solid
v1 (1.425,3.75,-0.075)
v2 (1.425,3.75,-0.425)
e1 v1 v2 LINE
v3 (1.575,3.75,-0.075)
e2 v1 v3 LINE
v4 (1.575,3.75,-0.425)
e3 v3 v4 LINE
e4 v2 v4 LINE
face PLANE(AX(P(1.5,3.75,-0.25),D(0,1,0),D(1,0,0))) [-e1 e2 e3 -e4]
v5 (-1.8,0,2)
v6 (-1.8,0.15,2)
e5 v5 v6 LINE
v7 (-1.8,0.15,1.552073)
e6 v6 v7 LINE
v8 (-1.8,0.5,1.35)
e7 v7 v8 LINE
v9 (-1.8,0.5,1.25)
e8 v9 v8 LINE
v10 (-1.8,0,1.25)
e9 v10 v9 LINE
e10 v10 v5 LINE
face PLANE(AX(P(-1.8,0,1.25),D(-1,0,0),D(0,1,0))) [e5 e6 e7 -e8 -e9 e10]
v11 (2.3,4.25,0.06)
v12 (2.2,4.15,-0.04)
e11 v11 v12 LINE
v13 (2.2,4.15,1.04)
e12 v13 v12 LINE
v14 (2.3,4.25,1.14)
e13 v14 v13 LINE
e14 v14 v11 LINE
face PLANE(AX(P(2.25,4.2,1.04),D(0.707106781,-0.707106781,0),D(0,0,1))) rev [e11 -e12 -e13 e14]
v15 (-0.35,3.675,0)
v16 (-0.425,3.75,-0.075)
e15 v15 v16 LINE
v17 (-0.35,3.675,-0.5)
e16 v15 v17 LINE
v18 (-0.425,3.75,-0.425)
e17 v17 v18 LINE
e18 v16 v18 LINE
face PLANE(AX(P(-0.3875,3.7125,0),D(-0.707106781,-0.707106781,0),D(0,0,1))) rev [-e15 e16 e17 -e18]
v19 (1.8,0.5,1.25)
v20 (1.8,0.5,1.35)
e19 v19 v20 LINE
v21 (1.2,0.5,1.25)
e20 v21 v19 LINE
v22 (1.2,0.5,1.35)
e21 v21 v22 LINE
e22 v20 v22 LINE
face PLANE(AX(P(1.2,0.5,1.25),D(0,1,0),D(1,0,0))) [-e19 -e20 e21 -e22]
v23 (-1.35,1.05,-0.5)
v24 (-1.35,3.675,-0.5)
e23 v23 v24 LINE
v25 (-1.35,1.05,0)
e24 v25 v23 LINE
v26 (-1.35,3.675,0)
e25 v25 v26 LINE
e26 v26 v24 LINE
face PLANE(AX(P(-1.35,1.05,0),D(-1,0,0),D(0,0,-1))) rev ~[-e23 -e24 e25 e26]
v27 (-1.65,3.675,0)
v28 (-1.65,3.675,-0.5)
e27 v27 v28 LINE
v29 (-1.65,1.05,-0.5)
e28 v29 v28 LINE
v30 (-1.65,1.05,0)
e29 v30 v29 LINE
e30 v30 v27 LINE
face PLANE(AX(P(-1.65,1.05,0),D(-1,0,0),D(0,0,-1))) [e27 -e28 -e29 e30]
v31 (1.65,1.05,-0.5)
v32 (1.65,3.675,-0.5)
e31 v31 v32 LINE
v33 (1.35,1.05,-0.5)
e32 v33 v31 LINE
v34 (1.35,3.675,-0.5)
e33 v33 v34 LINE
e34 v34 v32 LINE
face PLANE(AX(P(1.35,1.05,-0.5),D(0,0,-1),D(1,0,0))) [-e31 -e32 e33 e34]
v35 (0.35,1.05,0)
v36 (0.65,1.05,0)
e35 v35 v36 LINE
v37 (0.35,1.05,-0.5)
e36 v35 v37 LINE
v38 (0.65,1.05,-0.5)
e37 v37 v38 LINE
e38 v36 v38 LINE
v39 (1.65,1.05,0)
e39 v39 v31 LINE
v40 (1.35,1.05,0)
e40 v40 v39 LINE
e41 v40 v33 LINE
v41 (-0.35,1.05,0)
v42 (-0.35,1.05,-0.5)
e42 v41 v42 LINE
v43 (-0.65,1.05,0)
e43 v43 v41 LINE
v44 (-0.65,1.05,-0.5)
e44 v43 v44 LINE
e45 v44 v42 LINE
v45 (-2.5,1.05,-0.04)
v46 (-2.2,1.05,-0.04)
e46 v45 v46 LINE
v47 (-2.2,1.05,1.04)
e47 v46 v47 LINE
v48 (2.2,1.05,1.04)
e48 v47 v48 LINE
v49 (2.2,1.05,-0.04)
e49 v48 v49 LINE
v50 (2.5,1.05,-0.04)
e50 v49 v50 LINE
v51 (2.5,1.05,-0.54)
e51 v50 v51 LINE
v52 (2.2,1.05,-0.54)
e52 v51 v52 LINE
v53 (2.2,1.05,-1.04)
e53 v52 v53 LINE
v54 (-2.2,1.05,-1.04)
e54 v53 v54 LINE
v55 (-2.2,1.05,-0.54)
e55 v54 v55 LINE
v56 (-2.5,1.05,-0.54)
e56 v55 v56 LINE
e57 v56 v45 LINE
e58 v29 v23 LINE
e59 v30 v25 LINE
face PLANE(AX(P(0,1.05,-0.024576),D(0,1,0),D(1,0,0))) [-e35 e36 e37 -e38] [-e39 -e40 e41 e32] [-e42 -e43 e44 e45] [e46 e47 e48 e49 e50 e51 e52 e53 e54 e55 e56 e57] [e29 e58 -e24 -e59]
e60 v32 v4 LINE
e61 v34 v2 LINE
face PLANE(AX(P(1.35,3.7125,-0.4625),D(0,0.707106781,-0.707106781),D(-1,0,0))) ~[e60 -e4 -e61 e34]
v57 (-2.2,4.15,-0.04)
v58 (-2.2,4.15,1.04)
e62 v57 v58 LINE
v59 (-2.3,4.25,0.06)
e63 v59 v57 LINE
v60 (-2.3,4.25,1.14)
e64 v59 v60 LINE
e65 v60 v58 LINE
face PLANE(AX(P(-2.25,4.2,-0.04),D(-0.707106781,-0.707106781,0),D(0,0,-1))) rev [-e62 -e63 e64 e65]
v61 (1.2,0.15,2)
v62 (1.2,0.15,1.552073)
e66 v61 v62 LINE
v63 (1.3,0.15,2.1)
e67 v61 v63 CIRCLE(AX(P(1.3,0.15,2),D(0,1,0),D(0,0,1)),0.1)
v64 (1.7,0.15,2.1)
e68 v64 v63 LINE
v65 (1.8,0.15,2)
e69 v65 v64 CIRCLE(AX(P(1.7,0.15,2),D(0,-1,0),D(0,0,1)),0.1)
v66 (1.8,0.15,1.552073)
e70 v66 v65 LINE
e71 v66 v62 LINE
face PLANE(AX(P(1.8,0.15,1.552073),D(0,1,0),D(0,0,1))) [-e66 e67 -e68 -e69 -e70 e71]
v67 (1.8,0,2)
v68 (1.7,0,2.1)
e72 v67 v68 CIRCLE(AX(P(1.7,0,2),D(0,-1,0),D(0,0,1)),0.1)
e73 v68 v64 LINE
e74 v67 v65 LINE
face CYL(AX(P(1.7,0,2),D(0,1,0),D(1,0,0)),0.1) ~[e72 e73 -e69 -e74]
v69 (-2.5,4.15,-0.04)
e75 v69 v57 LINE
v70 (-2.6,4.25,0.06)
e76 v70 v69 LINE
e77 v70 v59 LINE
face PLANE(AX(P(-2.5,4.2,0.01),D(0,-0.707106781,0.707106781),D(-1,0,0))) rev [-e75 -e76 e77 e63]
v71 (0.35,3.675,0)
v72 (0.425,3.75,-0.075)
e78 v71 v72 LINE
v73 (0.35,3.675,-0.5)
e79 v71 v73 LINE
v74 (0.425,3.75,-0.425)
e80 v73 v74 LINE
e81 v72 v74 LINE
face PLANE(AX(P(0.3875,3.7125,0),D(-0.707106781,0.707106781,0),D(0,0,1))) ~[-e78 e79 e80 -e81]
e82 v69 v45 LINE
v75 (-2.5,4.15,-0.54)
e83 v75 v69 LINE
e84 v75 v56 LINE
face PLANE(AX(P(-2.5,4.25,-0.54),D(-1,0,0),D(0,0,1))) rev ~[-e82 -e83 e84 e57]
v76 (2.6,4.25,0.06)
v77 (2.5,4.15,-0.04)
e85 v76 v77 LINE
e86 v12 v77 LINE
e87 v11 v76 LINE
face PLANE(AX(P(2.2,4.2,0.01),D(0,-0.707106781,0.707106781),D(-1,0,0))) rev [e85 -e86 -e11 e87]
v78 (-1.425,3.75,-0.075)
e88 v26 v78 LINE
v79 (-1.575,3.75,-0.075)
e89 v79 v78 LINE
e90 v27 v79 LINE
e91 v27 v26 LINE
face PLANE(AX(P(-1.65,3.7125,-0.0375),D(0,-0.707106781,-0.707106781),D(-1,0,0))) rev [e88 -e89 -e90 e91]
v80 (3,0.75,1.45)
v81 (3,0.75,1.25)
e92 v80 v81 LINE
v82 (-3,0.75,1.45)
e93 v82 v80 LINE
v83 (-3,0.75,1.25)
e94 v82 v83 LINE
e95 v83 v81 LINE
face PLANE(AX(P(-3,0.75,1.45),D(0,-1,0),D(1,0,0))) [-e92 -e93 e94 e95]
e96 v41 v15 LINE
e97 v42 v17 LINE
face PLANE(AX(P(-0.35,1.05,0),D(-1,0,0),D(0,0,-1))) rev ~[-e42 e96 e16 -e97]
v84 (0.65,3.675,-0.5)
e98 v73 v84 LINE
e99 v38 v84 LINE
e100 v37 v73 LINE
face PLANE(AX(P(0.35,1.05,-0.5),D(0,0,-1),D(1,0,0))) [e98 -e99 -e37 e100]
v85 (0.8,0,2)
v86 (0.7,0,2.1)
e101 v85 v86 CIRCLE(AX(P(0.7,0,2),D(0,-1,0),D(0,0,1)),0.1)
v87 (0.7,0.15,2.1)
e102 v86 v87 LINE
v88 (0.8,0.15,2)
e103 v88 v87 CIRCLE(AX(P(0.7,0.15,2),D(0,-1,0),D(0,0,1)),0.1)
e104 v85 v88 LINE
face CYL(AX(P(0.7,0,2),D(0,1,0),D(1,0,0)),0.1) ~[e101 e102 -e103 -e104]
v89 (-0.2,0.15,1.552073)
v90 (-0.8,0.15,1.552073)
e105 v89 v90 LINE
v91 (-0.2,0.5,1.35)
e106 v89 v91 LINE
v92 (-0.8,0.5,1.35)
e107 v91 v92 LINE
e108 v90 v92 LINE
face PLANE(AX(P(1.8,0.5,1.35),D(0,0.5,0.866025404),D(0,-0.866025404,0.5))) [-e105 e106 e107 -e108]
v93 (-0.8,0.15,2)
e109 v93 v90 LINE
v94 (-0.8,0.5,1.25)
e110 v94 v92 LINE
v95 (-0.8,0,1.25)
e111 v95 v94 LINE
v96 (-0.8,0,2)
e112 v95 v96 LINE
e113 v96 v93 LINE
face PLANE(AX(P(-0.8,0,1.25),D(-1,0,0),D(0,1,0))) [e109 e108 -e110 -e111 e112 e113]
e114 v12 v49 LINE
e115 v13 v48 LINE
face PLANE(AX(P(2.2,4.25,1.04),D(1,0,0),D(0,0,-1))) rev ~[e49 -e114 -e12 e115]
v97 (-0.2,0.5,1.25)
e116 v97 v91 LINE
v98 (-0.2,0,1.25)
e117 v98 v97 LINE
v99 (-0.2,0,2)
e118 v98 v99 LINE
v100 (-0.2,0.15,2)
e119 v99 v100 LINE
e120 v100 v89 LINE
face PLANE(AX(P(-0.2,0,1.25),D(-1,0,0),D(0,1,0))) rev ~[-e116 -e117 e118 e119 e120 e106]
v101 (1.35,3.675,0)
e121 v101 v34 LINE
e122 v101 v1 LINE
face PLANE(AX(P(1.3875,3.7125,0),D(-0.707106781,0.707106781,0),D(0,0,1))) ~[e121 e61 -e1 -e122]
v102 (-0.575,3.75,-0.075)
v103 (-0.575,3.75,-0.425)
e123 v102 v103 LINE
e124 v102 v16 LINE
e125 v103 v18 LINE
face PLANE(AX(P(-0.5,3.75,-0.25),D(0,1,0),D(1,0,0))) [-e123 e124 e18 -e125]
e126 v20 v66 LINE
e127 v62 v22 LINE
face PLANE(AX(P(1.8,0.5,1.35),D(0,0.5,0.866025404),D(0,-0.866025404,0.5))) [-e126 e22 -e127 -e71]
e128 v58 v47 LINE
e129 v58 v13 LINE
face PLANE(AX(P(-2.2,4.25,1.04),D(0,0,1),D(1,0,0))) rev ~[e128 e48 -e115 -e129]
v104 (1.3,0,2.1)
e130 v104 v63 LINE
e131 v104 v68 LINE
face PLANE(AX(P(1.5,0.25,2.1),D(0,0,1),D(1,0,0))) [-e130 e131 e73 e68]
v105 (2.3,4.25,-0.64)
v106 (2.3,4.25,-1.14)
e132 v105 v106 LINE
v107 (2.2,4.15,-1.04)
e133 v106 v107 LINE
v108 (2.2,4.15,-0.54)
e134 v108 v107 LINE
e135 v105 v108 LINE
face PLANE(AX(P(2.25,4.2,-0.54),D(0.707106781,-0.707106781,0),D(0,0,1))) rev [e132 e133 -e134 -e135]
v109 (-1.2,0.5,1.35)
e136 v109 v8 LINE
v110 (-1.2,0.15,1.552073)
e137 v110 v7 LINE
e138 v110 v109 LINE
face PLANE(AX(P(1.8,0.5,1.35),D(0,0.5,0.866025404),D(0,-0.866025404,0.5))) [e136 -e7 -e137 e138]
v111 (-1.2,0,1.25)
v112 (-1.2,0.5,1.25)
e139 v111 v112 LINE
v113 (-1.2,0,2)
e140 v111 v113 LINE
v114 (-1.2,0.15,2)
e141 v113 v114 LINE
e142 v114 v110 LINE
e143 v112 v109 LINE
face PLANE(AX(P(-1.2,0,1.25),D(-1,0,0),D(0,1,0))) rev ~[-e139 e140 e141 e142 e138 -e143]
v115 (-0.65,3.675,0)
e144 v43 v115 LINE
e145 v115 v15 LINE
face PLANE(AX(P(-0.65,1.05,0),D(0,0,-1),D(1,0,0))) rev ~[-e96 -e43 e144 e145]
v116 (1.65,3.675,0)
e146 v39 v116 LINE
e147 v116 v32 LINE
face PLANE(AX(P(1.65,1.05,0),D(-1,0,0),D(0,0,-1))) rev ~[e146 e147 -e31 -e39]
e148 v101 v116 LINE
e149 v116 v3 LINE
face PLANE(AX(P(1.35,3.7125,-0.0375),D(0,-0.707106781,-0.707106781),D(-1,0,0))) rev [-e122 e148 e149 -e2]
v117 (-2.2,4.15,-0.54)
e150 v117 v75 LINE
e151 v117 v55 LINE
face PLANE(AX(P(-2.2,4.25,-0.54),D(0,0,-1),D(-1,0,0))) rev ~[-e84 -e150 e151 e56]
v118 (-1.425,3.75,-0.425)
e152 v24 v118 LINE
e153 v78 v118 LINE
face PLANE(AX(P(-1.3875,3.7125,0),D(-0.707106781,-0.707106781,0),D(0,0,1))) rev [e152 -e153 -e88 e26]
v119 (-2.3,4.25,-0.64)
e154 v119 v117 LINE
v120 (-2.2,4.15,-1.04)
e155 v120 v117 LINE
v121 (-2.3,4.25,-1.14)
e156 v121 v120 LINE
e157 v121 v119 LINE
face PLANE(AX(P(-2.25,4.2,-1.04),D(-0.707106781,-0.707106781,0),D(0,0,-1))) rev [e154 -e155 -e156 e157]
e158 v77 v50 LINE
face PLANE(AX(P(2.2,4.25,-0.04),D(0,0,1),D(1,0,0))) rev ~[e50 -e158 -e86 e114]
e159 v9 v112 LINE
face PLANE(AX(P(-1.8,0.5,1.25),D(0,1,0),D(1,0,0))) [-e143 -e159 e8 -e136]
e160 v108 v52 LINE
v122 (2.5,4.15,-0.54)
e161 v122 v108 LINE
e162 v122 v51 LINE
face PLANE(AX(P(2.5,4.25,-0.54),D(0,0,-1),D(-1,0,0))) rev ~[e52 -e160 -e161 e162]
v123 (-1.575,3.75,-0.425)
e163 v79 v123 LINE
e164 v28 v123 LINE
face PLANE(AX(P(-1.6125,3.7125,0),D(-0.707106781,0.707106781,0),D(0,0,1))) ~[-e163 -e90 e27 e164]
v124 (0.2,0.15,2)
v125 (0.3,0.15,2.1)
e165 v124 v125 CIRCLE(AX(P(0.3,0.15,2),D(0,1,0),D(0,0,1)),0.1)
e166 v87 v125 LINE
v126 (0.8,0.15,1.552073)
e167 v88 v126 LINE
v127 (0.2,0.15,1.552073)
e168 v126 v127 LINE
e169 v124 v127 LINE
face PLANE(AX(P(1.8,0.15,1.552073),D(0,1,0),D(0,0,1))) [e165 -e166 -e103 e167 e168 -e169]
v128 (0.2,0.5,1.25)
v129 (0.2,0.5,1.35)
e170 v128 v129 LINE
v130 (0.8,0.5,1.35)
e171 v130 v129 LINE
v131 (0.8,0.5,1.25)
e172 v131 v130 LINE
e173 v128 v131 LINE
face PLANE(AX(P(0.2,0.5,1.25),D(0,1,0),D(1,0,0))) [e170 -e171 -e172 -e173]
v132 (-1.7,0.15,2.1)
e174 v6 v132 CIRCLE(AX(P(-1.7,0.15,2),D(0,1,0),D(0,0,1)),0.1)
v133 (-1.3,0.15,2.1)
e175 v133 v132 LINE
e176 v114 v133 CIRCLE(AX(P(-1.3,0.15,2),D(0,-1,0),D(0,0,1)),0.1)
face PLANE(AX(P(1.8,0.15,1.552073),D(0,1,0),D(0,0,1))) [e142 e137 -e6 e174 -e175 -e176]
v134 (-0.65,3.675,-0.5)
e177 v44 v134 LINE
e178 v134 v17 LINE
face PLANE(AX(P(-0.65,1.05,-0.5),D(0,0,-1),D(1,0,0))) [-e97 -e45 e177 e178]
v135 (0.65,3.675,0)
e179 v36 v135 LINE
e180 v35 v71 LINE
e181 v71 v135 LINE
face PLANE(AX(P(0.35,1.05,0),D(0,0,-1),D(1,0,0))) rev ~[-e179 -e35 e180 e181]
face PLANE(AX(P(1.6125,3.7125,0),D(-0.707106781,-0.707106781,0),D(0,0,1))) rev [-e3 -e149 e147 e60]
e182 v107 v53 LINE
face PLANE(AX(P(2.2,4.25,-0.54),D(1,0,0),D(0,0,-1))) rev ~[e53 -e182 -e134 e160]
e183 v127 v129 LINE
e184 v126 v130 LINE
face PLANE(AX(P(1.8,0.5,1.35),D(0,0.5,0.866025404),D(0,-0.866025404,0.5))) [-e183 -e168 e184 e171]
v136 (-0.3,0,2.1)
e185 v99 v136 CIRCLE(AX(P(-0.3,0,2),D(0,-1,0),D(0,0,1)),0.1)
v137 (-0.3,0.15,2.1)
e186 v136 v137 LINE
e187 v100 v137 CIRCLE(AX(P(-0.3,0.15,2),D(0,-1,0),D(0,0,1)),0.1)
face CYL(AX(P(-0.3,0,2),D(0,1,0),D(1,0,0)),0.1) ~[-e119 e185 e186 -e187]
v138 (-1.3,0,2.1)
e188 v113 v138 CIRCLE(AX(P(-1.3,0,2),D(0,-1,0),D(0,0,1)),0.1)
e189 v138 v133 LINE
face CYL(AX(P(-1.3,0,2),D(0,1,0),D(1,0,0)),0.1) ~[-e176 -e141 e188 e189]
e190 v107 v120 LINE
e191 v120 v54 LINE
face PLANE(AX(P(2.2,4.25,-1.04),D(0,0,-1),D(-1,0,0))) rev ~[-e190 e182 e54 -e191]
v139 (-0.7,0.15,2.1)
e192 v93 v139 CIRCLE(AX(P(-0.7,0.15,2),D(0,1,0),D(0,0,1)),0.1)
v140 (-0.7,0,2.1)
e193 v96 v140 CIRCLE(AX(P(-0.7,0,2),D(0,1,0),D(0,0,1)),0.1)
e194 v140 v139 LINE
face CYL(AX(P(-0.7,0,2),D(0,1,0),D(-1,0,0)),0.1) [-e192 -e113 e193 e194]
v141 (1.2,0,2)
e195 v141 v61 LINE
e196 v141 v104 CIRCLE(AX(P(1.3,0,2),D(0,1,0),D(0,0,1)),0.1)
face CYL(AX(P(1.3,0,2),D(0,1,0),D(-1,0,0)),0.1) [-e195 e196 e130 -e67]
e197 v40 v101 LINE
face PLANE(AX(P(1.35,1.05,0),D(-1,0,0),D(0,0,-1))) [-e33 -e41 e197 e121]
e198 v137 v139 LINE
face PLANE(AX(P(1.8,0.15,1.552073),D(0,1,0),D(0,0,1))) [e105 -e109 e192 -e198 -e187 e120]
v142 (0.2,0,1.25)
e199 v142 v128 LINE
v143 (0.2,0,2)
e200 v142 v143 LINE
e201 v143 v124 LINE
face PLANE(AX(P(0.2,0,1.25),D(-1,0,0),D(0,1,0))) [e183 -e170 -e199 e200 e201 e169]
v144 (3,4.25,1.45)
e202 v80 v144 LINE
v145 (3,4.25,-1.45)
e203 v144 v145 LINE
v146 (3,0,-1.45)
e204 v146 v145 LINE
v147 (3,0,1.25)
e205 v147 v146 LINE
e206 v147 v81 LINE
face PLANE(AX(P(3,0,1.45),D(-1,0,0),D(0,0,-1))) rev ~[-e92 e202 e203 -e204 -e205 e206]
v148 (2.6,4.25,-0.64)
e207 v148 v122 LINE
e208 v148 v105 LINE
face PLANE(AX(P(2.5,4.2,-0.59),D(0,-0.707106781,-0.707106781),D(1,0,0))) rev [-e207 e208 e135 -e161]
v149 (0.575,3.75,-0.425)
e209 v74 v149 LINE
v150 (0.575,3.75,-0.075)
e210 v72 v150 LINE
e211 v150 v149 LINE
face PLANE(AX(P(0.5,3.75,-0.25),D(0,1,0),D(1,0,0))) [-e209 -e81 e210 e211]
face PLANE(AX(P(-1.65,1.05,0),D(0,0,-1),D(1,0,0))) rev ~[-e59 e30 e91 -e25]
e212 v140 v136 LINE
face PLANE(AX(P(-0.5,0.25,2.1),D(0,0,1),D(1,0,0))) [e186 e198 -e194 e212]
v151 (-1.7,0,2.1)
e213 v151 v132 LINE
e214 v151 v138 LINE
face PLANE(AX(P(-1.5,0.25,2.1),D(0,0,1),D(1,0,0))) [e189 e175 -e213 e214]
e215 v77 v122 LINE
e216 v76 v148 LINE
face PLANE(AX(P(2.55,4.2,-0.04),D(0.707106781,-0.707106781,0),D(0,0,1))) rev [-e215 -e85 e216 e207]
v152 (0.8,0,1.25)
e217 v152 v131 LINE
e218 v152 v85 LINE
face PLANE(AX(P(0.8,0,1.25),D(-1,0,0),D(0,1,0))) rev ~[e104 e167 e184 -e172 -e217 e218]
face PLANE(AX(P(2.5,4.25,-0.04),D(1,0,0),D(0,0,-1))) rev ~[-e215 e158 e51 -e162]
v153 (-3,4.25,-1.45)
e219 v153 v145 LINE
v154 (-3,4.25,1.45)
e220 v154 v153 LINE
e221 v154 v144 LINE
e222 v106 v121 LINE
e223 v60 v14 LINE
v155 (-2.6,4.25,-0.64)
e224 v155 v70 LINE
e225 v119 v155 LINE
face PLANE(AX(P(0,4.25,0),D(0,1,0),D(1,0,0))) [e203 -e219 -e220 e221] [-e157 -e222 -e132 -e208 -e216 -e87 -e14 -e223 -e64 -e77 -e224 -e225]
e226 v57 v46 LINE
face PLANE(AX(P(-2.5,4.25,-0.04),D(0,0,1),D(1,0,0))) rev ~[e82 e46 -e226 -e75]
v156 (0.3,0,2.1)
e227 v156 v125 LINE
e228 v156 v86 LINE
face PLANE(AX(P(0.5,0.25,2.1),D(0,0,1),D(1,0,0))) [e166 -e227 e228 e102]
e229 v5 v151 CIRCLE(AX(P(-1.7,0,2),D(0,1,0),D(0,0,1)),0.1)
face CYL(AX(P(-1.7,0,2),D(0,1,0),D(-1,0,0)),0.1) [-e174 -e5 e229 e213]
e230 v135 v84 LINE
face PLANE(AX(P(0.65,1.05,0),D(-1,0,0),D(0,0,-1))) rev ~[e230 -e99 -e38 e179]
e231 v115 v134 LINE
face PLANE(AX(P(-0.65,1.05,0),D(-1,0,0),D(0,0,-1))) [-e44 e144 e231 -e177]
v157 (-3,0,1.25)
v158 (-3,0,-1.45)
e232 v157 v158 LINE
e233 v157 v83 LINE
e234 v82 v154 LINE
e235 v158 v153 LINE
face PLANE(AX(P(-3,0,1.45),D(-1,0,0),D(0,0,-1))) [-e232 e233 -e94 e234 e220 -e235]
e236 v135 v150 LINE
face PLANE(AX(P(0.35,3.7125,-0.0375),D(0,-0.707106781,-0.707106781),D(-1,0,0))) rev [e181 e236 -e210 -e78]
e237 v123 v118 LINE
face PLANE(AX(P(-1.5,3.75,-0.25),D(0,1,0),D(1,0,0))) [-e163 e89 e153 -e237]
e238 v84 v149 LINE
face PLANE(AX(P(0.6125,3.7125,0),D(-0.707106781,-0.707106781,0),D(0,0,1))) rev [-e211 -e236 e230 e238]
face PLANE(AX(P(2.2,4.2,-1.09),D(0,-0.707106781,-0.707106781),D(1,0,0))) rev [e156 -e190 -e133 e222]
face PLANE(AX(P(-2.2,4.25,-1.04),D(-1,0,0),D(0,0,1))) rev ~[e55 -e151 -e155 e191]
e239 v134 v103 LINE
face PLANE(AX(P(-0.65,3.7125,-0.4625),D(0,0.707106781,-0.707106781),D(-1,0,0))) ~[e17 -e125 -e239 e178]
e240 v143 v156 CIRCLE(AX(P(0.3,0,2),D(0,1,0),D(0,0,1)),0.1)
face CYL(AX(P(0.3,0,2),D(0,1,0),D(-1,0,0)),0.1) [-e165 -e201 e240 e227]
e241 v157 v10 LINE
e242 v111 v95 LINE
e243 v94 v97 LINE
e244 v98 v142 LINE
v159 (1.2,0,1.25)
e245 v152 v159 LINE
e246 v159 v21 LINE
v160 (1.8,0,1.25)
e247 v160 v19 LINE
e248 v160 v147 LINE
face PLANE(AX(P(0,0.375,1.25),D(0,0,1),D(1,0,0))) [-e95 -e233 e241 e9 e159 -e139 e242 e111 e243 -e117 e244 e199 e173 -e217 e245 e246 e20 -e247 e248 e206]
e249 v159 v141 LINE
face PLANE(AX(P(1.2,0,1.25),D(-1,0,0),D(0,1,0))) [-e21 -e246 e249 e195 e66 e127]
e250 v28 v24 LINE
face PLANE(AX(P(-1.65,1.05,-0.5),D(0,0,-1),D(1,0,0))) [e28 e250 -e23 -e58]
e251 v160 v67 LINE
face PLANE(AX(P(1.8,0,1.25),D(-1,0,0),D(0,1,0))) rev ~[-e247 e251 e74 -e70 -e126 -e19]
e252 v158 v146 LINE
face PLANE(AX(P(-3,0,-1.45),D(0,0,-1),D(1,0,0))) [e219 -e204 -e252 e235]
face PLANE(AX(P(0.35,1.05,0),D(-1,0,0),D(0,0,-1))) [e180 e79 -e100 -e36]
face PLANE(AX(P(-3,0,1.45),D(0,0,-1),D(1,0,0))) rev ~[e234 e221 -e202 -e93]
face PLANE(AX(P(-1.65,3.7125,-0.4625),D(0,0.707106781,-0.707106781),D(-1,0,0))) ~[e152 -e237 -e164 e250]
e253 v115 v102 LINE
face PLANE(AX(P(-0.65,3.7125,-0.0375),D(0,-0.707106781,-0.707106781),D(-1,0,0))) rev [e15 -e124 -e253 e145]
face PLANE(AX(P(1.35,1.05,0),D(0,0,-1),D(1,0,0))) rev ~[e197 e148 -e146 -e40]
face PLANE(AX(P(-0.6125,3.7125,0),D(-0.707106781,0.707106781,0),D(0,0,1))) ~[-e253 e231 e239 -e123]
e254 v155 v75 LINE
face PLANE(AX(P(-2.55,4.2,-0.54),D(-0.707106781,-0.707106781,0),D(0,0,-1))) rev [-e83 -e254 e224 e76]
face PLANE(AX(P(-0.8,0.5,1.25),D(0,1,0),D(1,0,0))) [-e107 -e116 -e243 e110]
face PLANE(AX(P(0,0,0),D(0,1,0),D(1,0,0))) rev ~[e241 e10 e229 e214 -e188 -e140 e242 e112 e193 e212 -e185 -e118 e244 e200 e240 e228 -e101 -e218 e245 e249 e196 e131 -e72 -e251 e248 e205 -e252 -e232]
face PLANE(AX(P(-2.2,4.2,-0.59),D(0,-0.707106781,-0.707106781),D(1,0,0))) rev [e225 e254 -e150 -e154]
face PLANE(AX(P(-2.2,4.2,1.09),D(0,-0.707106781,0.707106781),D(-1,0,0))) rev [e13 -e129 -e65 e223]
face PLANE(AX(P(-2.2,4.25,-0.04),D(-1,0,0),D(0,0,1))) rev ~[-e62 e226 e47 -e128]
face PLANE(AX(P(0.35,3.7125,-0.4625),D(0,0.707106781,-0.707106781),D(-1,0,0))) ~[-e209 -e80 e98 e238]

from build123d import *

# Parameters (mm, degrees)
SKETCH1_W           = 6
SKETCH1_H           = 2.9
BOSS_EXTRUDE1_DEPTH = 4.25
CUT_EXTRUDE1_DEPTH  = 3.2
SKETCH4_W           = 6
SKETCH4_H           = 0.75
CUT_EXTRUDE2_DEPTH  = 0.2
SKETCH5_W           = 0.6
SKETCH5_H           = 0.5
BOSS_EXTRUDE2_DEPTH = 0.85
CUT_EXTRUDE3_DEPTH  = 7.74629528
SKETCH7_W           = 0.3
SKETCH7_H           = 0.5
BOSS_EXTRUDE3_DEPTH = 2.7
CHAMFER1_SIZE       = 0.075
FILLET1_R           = 0.1
CHAMFER2_SIZE       = 0.1


with BuildPart() as part:
    # Sketch1 → Boss-Extrude1 (new body)
    with BuildSketch(Plane(origin=(0, 0, 0), x_dir=(1, 0, 0), z_dir=(0, 1, 0))):
        Rectangle(SKETCH1_W, SKETCH1_H)
    extrude(amount=BOSS_EXTRUDE1_DEPTH)

    # Sketch2 → Cut-Extrude1 (cut)
    with BuildSketch(Plane(origin=(0, 4.25, 0), x_dir=(1, 0, 0), z_dir=(0, 1, 0))):
        Polygon((2.2, 0.04), (2.5, 0.04), (2.5, 0.54), (2.2, 0.54), (2.2, 1.04), (-2.2, 1.04), (-2.2, 0.54), (-2.5, 0.54), (-2.5, 0.04), (-2.2, 0.04), (-2.2, -1.04), (2.2, -1.04), align=None)
    extrude(amount=-CUT_EXTRUDE1_DEPTH, mode=Mode.SUBTRACT)

    # Sketch4 → Cut-Extrude2 (cut)
    with BuildSketch(Plane.XY.offset(1.45)):
        with Locations((0, 0.375)):
            Rectangle(SKETCH4_W, SKETCH4_H)
    extrude(amount=-CUT_EXTRUDE2_DEPTH, mode=Mode.SUBTRACT)

    # Sketch5 → Boss-Extrude2 (add)
    with BuildSketch(Plane.XY.offset(1.25)):
        with Locations((-0.5, 0.25)):
            Rectangle(SKETCH5_W, SKETCH5_H)
        with Locations((-1.5, 0.25)):
            Rectangle(SKETCH5_W, SKETCH5_H)
        with Locations((1.5, 0.25)):
            Rectangle(SKETCH5_W, SKETCH5_H)
        with Locations((0.5, 0.25)):
            Rectangle(SKETCH5_W, SKETCH5_H)
    extrude(amount=BOSS_EXTRUDE2_DEPTH)

    # Sketch6 → Cut-Extrude3 (cut, through all)
    with BuildSketch(Plane(origin=(1.8, 0, 0), x_dir=(0, 0, -1), z_dir=(1, 0, 0))):
        Polygon((-1.35, 0.5), (-1.552072594, 0.15), (-2.1, 0.15), (-2.1, 0.5), align=None)
    extrude(amount=-CUT_EXTRUDE3_DEPTH, mode=Mode.SUBTRACT)

    # Sketch7 → Boss-Extrude3 (add)
    with BuildSketch(Plane(origin=(0, 1.05, 0), x_dir=(1, 0, 0), z_dir=(0, 1, 0))):
        with Locations((-1.5, 0.25)):
            Rectangle(SKETCH7_W, SKETCH7_H)
        with Locations((-0.5, 0.25)):
            Rectangle(SKETCH7_W, SKETCH7_H)
        with Locations((1.5, 0.25)):
            Rectangle(SKETCH7_W, SKETCH7_H)
        with Locations((0.5, 0.25)):
            Rectangle(SKETCH7_W, SKETCH7_H)
    extrude(amount=BOSS_EXTRUDE3_DEPTH)

    # Chamfer1
    chamfer1_edges = [part.edges().sort_by_distance(p)[0] for p in [
        (-0.5, 3.75, 0),
        (-0.65, 3.75, -0.25),
        (-0.5, 3.75, -0.5),
        (-0.35, 3.75, -0.25),
        (-1.5, 3.75, 0),
        (-1.65, 3.75, -0.25),
        (-1.5, 3.75, -0.5),
        (-1.35, 3.75, -0.25),
        (1.5, 3.75, -0.5),
        (1.65, 3.75, -0.25),
        (1.5, 3.75, 0),
        (1.35, 3.75, -0.25),
        (0.35, 3.75, -0.25),
        (0.5, 3.75, -0.5),
        (0.65, 3.75, -0.25),
        (0.5, 3.75, 0),
    ]]
    chamfer(chamfer1_edges, length=CHAMFER1_SIZE)

    # Fillet1
    fillet1_edges = [part.edges().sort_by_distance(p)[0] for p in [
        (0.2, 0.075, 2.1),
        (1.2, 0.075, 2.1),
        (-1.8, 0.075, 2.1),
        (-0.8, 0.075, 2.1),
        (-0.2, 0.075, 2.1),
        (-1.2, 0.075, 2.1),
        (1.8, 0.075, 2.1),
        (0.8, 0.075, 2.1),
    ]]
    fillet(fillet1_edges, radius=FILLET1_R)

    # Chamfer2
    chamfer2_edges = [part.edges().sort_by_distance(p)[0] for p in [
        (2.2, 4.25, -0.79),
        (0, 4.25, -1.04),
        (-2.2, 4.25, -0.79),
        (-2.35, 4.25, -0.54),
        (-2.5, 4.25, -0.29),
        (-2.35, 4.25, -0.04),
        (-2.2, 4.25, 0.5),
        (0, 4.25, 1.04),
        (2.2, 4.25, 0.5),
        (2.35, 4.25, -0.04),
        (2.5, 4.25, -0.29),
        (2.35, 4.25, -0.54),
    ]]
    chamfer(chamfer2_edges, length=CHAMFER2_SIZE)


solid = part.part
